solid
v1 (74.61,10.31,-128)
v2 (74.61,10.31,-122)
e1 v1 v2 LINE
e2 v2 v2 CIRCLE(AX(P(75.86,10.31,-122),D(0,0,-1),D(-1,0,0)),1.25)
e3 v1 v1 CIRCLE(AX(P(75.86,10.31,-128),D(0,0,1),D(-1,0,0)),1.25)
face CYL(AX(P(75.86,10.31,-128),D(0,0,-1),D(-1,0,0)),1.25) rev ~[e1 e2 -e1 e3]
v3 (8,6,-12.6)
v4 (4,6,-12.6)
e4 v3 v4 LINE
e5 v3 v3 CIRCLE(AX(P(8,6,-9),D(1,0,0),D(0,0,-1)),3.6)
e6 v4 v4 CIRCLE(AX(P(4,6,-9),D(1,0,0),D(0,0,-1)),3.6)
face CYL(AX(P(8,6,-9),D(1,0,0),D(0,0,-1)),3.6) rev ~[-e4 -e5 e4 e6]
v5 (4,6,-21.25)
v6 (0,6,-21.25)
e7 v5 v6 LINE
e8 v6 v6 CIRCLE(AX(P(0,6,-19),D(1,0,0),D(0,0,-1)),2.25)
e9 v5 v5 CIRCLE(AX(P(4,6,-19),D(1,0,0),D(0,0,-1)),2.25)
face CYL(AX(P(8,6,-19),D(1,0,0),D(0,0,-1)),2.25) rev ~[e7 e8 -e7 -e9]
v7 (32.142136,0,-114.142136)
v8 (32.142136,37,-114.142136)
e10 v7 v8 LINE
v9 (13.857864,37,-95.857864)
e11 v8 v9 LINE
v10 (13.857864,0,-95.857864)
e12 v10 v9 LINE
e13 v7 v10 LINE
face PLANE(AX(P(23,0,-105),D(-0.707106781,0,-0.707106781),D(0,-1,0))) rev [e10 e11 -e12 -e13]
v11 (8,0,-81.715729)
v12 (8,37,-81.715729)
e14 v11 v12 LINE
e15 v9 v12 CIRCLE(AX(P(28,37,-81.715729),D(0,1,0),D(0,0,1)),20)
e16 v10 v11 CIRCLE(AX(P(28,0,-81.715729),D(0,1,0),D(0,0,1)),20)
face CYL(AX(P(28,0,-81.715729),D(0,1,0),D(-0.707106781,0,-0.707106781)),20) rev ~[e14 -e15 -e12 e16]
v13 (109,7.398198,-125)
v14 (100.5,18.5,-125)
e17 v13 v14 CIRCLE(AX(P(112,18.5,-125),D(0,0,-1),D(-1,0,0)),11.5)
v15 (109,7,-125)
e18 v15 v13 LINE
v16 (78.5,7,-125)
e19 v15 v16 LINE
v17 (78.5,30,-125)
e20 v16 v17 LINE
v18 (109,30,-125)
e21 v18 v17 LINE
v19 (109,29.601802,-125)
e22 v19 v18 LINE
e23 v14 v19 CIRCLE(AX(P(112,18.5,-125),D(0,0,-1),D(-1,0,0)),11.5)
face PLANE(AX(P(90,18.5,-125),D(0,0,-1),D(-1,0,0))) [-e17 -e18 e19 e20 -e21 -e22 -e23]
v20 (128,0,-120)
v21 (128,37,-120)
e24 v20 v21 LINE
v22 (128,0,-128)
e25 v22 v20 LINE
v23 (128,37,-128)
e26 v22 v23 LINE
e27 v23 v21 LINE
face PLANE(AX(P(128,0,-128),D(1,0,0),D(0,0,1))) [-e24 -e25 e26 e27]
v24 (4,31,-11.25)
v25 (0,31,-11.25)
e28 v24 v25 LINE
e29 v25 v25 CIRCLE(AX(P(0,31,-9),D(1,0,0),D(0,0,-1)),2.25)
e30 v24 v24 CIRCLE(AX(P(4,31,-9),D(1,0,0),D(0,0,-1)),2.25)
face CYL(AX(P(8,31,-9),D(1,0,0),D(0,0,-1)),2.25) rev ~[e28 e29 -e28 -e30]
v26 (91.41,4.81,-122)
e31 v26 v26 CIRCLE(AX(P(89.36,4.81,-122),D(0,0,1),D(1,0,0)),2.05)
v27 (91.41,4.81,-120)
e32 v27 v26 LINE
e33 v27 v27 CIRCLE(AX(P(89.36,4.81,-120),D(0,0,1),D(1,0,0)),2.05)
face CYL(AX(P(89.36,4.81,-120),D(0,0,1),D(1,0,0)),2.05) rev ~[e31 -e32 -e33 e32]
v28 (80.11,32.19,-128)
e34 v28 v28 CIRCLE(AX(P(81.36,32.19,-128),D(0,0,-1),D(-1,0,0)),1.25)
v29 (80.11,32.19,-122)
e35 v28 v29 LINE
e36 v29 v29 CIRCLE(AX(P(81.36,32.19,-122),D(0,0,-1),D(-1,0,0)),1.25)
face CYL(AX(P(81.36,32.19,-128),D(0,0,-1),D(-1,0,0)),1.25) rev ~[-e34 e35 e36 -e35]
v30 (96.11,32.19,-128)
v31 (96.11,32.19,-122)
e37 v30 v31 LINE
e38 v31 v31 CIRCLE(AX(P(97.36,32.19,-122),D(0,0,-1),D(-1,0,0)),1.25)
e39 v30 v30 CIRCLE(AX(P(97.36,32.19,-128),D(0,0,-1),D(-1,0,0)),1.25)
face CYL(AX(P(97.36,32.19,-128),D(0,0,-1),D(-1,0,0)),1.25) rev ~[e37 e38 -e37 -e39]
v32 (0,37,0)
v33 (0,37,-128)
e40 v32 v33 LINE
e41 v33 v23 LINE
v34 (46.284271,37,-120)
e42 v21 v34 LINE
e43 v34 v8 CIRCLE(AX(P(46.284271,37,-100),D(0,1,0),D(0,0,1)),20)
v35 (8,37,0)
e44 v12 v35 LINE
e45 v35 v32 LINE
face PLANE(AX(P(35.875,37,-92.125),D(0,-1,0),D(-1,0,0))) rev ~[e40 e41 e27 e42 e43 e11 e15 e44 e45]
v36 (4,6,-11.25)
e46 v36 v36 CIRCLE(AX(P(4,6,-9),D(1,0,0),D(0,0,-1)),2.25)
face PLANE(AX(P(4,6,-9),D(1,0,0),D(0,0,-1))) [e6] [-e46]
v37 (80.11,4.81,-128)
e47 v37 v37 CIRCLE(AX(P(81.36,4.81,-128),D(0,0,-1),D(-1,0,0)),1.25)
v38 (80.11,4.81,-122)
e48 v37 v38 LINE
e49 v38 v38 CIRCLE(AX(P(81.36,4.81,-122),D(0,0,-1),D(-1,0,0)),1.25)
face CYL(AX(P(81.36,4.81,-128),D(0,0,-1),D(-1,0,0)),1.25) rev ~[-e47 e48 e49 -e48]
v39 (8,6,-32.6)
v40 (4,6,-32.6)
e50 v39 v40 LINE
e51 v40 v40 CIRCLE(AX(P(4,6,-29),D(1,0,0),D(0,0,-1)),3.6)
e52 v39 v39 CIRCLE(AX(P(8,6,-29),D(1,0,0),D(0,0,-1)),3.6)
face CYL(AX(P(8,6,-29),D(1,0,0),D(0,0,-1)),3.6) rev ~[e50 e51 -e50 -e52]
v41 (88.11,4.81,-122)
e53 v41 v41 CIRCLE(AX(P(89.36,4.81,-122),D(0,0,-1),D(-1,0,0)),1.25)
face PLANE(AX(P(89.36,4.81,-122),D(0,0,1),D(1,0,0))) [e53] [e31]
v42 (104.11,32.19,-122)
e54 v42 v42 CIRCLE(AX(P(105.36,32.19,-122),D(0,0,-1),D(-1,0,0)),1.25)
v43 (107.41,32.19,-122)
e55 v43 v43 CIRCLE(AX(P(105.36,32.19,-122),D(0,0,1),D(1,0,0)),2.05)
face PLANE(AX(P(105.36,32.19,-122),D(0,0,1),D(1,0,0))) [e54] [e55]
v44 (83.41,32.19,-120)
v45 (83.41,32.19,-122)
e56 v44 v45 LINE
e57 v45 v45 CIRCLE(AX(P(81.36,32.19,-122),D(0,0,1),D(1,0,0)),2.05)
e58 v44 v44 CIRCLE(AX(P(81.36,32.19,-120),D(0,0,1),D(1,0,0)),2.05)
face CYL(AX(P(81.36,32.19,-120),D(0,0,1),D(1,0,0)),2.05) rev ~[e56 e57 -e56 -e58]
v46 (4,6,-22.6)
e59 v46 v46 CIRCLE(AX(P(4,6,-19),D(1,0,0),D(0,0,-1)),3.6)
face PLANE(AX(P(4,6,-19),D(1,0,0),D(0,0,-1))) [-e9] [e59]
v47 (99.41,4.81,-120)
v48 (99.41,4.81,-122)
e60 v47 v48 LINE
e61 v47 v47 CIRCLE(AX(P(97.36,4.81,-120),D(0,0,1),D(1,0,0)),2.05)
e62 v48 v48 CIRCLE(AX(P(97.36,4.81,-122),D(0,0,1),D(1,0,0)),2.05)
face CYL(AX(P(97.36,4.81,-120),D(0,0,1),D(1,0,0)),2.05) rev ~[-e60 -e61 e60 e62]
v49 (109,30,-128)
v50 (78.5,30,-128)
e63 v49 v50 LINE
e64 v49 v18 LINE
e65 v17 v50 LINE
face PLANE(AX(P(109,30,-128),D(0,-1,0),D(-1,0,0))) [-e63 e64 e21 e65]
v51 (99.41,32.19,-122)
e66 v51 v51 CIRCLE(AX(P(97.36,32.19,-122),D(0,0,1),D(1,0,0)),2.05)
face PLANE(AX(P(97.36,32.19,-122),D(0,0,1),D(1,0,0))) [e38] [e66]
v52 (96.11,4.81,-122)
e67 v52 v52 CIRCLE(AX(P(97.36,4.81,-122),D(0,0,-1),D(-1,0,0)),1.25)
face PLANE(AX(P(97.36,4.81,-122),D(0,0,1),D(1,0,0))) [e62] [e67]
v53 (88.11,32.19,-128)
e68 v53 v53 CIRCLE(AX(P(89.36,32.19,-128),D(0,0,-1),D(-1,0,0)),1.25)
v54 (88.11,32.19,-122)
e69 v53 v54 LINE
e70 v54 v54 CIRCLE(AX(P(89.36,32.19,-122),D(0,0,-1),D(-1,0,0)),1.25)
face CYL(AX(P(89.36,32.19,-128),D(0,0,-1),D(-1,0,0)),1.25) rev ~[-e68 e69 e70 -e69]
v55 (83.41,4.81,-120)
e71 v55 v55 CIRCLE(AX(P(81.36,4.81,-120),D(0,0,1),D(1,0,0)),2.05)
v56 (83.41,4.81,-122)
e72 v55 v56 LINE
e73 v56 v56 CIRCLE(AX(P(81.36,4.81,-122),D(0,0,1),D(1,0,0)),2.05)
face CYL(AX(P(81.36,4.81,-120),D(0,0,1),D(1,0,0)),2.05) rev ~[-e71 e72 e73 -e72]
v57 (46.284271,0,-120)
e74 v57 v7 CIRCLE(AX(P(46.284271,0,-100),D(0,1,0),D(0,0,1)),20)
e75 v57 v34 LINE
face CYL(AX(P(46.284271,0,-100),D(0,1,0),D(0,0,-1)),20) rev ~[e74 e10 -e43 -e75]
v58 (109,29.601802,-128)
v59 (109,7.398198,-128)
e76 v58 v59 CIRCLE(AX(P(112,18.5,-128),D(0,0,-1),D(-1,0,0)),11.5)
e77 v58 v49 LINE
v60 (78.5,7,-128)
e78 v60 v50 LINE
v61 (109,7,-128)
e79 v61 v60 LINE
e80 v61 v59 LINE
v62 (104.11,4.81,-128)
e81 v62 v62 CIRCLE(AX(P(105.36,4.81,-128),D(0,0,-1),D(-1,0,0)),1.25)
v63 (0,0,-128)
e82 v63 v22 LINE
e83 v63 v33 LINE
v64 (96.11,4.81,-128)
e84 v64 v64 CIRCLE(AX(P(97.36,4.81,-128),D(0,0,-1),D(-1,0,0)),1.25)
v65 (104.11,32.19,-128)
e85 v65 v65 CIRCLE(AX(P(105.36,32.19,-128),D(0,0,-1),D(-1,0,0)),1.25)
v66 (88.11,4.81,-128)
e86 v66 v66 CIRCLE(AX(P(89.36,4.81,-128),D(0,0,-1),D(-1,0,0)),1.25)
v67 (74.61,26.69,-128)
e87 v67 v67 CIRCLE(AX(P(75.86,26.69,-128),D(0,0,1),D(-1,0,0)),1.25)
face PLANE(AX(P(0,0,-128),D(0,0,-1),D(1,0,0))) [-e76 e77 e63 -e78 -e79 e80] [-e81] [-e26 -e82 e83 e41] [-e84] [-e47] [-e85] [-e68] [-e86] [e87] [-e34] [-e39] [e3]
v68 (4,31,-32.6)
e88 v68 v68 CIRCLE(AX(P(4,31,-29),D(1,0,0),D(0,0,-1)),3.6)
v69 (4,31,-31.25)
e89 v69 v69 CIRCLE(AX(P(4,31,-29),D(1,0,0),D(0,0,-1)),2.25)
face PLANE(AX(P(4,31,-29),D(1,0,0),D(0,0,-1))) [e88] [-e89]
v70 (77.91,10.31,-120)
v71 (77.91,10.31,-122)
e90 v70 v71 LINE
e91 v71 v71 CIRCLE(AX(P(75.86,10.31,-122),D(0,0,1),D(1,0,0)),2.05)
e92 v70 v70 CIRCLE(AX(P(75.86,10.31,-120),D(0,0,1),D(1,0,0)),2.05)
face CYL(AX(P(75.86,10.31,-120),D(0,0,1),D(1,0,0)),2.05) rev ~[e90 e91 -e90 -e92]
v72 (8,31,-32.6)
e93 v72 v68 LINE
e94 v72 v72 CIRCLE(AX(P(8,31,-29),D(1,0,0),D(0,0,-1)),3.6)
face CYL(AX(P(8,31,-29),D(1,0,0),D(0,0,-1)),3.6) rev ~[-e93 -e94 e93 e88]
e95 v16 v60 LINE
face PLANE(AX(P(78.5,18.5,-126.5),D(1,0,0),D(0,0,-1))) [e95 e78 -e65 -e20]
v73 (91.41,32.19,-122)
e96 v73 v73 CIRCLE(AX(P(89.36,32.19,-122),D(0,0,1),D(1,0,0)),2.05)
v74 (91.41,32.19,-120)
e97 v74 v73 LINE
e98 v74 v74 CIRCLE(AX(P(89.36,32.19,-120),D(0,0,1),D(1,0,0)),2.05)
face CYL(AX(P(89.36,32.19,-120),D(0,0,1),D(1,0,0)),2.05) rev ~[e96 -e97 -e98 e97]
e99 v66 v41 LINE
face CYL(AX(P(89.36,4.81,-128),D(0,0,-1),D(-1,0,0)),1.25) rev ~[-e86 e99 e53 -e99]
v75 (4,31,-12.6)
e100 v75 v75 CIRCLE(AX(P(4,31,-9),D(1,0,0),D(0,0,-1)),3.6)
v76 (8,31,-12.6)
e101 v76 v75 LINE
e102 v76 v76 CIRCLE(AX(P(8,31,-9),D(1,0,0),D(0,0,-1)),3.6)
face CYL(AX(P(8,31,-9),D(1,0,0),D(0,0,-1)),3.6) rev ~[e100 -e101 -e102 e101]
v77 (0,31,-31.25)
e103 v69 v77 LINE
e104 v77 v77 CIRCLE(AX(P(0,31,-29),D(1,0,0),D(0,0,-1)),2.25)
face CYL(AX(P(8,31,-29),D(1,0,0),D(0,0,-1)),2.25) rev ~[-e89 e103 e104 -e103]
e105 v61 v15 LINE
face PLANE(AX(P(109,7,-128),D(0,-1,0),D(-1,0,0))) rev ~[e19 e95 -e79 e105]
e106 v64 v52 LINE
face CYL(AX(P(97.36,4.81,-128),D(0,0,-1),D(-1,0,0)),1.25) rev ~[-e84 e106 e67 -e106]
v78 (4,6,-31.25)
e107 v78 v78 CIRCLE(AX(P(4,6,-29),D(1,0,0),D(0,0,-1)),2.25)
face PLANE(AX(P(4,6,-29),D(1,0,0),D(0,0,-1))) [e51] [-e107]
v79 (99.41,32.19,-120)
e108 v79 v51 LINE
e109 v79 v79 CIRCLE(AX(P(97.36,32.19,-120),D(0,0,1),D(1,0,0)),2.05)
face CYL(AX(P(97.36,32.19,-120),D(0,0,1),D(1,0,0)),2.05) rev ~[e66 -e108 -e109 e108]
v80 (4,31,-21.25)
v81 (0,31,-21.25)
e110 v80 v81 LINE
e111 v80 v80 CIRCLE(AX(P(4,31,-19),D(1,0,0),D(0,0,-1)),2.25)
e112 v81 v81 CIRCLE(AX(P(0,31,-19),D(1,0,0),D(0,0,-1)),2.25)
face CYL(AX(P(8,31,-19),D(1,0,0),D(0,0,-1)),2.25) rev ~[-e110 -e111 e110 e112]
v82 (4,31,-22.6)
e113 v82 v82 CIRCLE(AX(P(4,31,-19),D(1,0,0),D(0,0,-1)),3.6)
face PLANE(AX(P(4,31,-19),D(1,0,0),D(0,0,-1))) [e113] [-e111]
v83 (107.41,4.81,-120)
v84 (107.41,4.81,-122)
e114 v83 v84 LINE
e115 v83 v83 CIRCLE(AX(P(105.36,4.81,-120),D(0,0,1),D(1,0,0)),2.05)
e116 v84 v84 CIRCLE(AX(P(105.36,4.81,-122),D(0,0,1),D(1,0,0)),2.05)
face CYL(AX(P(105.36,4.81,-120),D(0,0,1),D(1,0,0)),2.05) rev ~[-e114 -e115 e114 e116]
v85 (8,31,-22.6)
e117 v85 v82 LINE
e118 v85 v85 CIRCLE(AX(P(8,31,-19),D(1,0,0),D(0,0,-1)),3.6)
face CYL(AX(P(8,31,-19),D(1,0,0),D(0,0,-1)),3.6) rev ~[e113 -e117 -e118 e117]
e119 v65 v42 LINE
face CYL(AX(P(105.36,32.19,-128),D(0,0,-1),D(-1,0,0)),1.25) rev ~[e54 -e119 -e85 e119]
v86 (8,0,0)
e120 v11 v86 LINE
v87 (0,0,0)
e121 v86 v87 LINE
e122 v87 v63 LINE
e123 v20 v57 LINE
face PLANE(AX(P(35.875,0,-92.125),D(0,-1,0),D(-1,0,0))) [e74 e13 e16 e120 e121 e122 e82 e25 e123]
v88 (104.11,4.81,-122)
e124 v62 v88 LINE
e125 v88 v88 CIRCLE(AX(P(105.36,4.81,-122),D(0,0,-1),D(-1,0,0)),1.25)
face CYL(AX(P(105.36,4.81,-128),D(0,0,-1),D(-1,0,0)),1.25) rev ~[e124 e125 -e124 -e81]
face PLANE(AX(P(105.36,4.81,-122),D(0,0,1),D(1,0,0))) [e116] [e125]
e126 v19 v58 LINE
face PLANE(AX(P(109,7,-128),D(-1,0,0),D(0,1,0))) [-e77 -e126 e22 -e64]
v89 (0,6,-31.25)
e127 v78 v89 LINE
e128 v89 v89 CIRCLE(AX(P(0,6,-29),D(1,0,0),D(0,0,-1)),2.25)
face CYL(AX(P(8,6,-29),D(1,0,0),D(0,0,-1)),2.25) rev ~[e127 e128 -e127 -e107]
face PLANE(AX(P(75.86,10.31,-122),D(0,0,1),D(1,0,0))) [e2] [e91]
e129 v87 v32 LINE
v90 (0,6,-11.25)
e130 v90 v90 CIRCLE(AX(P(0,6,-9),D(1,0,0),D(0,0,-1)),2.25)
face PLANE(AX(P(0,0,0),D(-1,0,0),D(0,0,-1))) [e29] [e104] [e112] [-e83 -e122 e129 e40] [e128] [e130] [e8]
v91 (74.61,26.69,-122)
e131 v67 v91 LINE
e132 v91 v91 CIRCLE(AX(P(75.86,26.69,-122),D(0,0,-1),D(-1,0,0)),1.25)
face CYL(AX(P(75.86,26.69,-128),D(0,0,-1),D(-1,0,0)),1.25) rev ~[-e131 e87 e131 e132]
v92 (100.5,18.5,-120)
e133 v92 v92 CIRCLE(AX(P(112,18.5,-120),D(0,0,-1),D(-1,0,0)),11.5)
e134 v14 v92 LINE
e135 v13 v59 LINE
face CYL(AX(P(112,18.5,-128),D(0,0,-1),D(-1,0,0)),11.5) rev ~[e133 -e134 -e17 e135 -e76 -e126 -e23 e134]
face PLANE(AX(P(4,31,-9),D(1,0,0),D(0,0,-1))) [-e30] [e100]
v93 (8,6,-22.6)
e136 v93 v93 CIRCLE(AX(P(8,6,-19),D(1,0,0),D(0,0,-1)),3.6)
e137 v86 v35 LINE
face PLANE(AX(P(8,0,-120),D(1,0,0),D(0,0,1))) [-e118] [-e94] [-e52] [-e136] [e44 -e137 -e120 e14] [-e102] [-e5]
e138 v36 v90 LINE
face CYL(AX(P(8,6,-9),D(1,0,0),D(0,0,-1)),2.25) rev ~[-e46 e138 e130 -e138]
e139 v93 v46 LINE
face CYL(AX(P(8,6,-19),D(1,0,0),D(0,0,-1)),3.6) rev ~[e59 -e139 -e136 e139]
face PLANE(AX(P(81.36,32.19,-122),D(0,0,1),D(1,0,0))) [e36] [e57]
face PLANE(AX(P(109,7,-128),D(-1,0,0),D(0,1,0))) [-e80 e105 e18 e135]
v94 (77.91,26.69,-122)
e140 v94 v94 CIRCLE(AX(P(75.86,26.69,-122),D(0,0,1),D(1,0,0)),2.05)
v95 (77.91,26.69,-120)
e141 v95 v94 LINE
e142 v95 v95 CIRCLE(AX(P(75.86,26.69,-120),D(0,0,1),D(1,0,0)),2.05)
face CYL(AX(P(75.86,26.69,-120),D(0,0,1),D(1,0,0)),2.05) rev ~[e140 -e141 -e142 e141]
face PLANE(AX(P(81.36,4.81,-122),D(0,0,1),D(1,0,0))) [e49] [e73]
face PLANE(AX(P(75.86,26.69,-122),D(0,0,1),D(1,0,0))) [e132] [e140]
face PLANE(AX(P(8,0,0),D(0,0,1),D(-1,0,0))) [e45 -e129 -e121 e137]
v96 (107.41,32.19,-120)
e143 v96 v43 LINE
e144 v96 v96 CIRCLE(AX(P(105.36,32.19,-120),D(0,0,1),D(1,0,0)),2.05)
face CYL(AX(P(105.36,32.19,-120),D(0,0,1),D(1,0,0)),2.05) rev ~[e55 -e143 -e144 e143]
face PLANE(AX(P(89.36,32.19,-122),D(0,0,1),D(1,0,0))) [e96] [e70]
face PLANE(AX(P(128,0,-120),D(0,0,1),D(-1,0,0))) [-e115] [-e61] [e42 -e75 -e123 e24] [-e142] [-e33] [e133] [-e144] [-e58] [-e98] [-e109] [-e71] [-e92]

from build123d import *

# Parameters (mm, degrees)
BOSS_EXTRUDE1_DEPTH = 37
CUT_EXTRUDE1_REACH  = 186.762
SKETCH2_R           = 11.5
CUT_EXTRUDE2_REACH  = 186.762
SKETCH3_R           = 1.25
SKETCH5_W           = 38
SKETCH5_H           = 23
CUT_EXTRUDE3_DEPTH  = 3
SKETCH6_W           = 3
SKETCH6_H           = 23
BOSS_EXTRUDE2_DEPTH = 7.5
CUT_EXTRUDE4_REACH  = 184.696
SKETCH7_R           = 1.25
SKETCH8_R           = 2.05
CUT_EXTRUDE5_DEPTH  = 2
CUT_EXTRUDE6_REACH  = 181.313
SKETCH9_R           = 2.25
SKETCH10_R          = 3.6
CUT_EXTRUDE7_DEPTH  = 4
CHAMFER1_SIZE       = 30
FILLET4_R           = 20


with BuildPart() as part:
    # Sketch1 → Boss-Extrude1 (new body)
    with BuildSketch(Plane(origin=(0, 0, 0), x_dir=(1, 0, 0), z_dir=(0, 1, 0))):
        Polygon((0, 0), (0, 128), (128, 128), (128, 120), (8, 120), (8, 0), align=None)
    extrude(amount=BOSS_EXTRUDE1_DEPTH)

    # Sketch2 → Cut-Extrude1 (cut, up to next)
    with BuildSketch(Plane(origin=(0, 0, -128), x_dir=(-1, 0, 0), z_dir=(0, 0, -1)), mode=Mode.PRIVATE) as cut_extrude1_sk1:
        with Locations((-112, 18.5)):
            Circle(SKETCH2_R)
    cut_extrude1_tool1 = extrude(cut_extrude1_sk1.sketch, amount=-CUT_EXTRUDE1_REACH, mode=Mode.PRIVATE) & part.part
    add(cut_extrude1_tool1.solids().sort_by_distance((112, 18.5, -128))[0], mode=Mode.SUBTRACT)

    # Sketch3 → Cut-Extrude2 (cut, up to next)
    with BuildSketch(Plane(origin=(0, 0, -128), x_dir=(-1, 0, 0), z_dir=(0, 0, -1)), mode=Mode.PRIVATE) as cut_extrude2_sk1:
        with Locations((-75.86, 10.31)):
            Circle(SKETCH3_R)
    cut_extrude2_tool1 = extrude(cut_extrude2_sk1.sketch, amount=-CUT_EXTRUDE2_REACH, mode=Mode.PRIVATE) & part.part
    # Sketch3 → Cut-Extrude2 (cut, up to next)
    with BuildSketch(Plane(origin=(0, 0, -128), x_dir=(-1, 0, 0), z_dir=(0, 0, -1)), mode=Mode.PRIVATE) as cut_extrude2_sk2:
        with Locations((-105.36, 32.19)):
            Circle(SKETCH3_R)
    cut_extrude2_tool2 = extrude(cut_extrude2_sk2.sketch, amount=-CUT_EXTRUDE2_REACH, mode=Mode.PRIVATE) & part.part
    # Sketch3 → Cut-Extrude2 (cut, up to next)
    with BuildSketch(Plane(origin=(0, 0, -128), x_dir=(-1, 0, 0), z_dir=(0, 0, -1)), mode=Mode.PRIVATE) as cut_extrude2_sk3:
        with Locations((-97.36, 32.19)):
            Circle(SKETCH3_R)
    cut_extrude2_tool3 = extrude(cut_extrude2_sk3.sketch, amount=-CUT_EXTRUDE2_REACH, mode=Mode.PRIVATE) & part.part
    # Sketch3 → Cut-Extrude2 (cut, up to next)
    with BuildSketch(Plane(origin=(0, 0, -128), x_dir=(-1, 0, 0), z_dir=(0, 0, -1)), mode=Mode.PRIVATE) as cut_extrude2_sk4:
        with Locations((-89.36, 32.19)):
            Circle(SKETCH3_R)
    cut_extrude2_tool4 = extrude(cut_extrude2_sk4.sketch, amount=-CUT_EXTRUDE2_REACH, mode=Mode.PRIVATE) & part.part
    # Sketch3 → Cut-Extrude2 (cut, up to next)
    with BuildSketch(Plane(origin=(0, 0, -128), x_dir=(-1, 0, 0), z_dir=(0, 0, -1)), mode=Mode.PRIVATE) as cut_extrude2_sk5:
        with Locations((-81.36, 32.19)):
            Circle(SKETCH3_R)
    cut_extrude2_tool5 = extrude(cut_extrude2_sk5.sketch, amount=-CUT_EXTRUDE2_REACH, mode=Mode.PRIVATE) & part.part
    # Sketch3 → Cut-Extrude2 (cut, up to next)
    with BuildSketch(Plane(origin=(0, 0, -128), x_dir=(-1, 0, 0), z_dir=(0, 0, -1)), mode=Mode.PRIVATE) as cut_extrude2_sk6:
        with Locations((-81.36, 4.81)):
            Circle(SKETCH3_R)
    cut_extrude2_tool6 = extrude(cut_extrude2_sk6.sketch, amount=-CUT_EXTRUDE2_REACH, mode=Mode.PRIVATE) & part.part
    # Sketch3 → Cut-Extrude2 (cut, up to next)
    with BuildSketch(Plane(origin=(0, 0, -128), x_dir=(-1, 0, 0), z_dir=(0, 0, -1)), mode=Mode.PRIVATE) as cut_extrude2_sk7:
        with Locations((-89.36, 4.81)):
            Circle(SKETCH3_R)
    cut_extrude2_tool7 = extrude(cut_extrude2_sk7.sketch, amount=-CUT_EXTRUDE2_REACH, mode=Mode.PRIVATE) & part.part
    # Sketch3 → Cut-Extrude2 (cut, up to next)
    with BuildSketch(Plane(origin=(0, 0, -128), x_dir=(-1, 0, 0), z_dir=(0, 0, -1)), mode=Mode.PRIVATE) as cut_extrude2_sk8:
        with Locations((-97.36, 4.81)):
            Circle(SKETCH3_R)
    cut_extrude2_tool8 = extrude(cut_extrude2_sk8.sketch, amount=-CUT_EXTRUDE2_REACH, mode=Mode.PRIVATE) & part.part
    # Sketch3 → Cut-Extrude2 (cut, up to next)
    with BuildSketch(Plane(origin=(0, 0, -128), x_dir=(-1, 0, 0), z_dir=(0, 0, -1)), mode=Mode.PRIVATE) as cut_extrude2_sk9:
        with Locations((-105.36, 4.81)):
            Circle(SKETCH3_R)
    cut_extrude2_tool9 = extrude(cut_extrude2_sk9.sketch, amount=-CUT_EXTRUDE2_REACH, mode=Mode.PRIVATE) & part.part
    # Sketch3 → Cut-Extrude2 (cut, up to next)
    with BuildSketch(Plane(origin=(0, 0, -128), x_dir=(-1, 0, 0), z_dir=(0, 0, -1)), mode=Mode.PRIVATE) as cut_extrude2_sk10:
        with Locations((-75.86, 26.69)):
            Circle(SKETCH3_R)
    cut_extrude2_tool10 = extrude(cut_extrude2_sk10.sketch, amount=-CUT_EXTRUDE2_REACH, mode=Mode.PRIVATE) & part.part
    add(cut_extrude2_tool1.solids().sort_by_distance((75.86, 10.31, -128))[0], mode=Mode.SUBTRACT)
    add(cut_extrude2_tool2.solids().sort_by_distance((105.36, 32.19, -128))[0], mode=Mode.SUBTRACT)
    add(cut_extrude2_tool3.solids().sort_by_distance((97.36, 32.19, -128))[0], mode=Mode.SUBTRACT)
    add(cut_extrude2_tool4.solids().sort_by_distance((89.36, 32.19, -128))[0], mode=Mode.SUBTRACT)
    add(cut_extrude2_tool5.solids().sort_by_distance((81.36, 32.19, -128))[0], mode=Mode.SUBTRACT)
    add(cut_extrude2_tool6.solids().sort_by_distance((81.36, 4.81, -128))[0], mode=Mode.SUBTRACT)
    add(cut_extrude2_tool7.solids().sort_by_distance((89.36, 4.81, -128))[0], mode=Mode.SUBTRACT)
    add(cut_extrude2_tool8.solids().sort_by_distance((97.36, 4.81, -128))[0], mode=Mode.SUBTRACT)
    add(cut_extrude2_tool9.solids().sort_by_distance((105.36, 4.81, -128))[0], mode=Mode.SUBTRACT)
    add(cut_extrude2_tool10.solids().sort_by_distance((75.86, 26.69, -128))[0], mode=Mode.SUBTRACT)

    # Sketch5 → Cut-Extrude3 (cut)
    with BuildSketch(Plane(origin=(0, 0, -128), x_dir=(-1, 0, 0), z_dir=(0, 0, -1))):
        with Locations((-90, 18.5)):
            Rectangle(SKETCH5_W, SKETCH5_H)
    extrude(amount=-CUT_EXTRUDE3_DEPTH, mode=Mode.SUBTRACT)

    # Sketch6 → Boss-Extrude2 (add)
    with BuildSketch(Plane(origin=(71, 0, 0), x_dir=(0, 0, -1), z_dir=(1, 0, 0))):
        with Locations((126.5, 18.5)):
            Rectangle(SKETCH6_W, SKETCH6_H)
    extrude(amount=BOSS_EXTRUDE2_DEPTH)

    # Sketch7 → Cut-Extrude4 (cut, up to next)
    with BuildSketch(Plane.XY.offset(-125), mode=Mode.PRIVATE) as cut_extrude4_sk1:
        with Locations(Location((75.86, 10.31, 0), (0, 0, 180))):
            Circle(SKETCH7_R)
    cut_extrude4_tool1 = extrude(cut_extrude4_sk1.sketch, amount=-CUT_EXTRUDE4_REACH, mode=Mode.PRIVATE) & part.part
    # Sketch7 → Cut-Extrude4 (cut, up to next)
    with BuildSketch(Plane.XY.offset(-125), mode=Mode.PRIVATE) as cut_extrude4_sk2:
        with Locations(Location((75.86, 26.69, 0), (0, 0, 180))):
            Circle(SKETCH7_R)
    cut_extrude4_tool2 = extrude(cut_extrude4_sk2.sketch, amount=-CUT_EXTRUDE4_REACH, mode=Mode.PRIVATE) & part.part
    add(cut_extrude4_tool1.solids().sort_by_distance((75.86, 10.31, -125))[0], mode=Mode.SUBTRACT)
    add(cut_extrude4_tool2.solids().sort_by_distance((75.86, 26.69, -125))[0], mode=Mode.SUBTRACT)

    # Sketch8 → Cut-Extrude5 (cut)
    with BuildSketch(Plane.XY.offset(-120)):
        with Locations((75.86, 10.31)):
            Circle(SKETCH8_R)
        with Locations((75.86, 26.69)):
            Circle(SKETCH8_R)
        with Locations((81.36, 32.19)):
            Circle(SKETCH8_R)
        with Locations((89.36, 32.19)):
            Circle(SKETCH8_R)
        with Locations((97.36, 32.19)):
            Circle(SKETCH8_R)
        with Locations((105.36, 32.19)):
            Circle(SKETCH8_R)
        with Locations((105.36, 4.81)):
            Circle(SKETCH8_R)
        with Locations((97.36, 4.81)):
            Circle(SKETCH8_R)
        with Locations((89.36, 4.81)):
            Circle(SKETCH8_R)
        with Locations((81.36, 4.81)):
            Circle(SKETCH8_R)
    extrude(amount=-CUT_EXTRUDE5_DEPTH, mode=Mode.SUBTRACT)

    # Sketch9 → Cut-Extrude6 (cut, up to next)
    with BuildSketch(Plane(origin=(8, 0, 0), x_dir=(0, 0, -1), z_dir=(1, 0, 0)), mode=Mode.PRIVATE) as cut_extrude6_sk1:
        with Locations((29, 31)):
            Circle(SKETCH9_R)
    cut_extrude6_tool1 = extrude(cut_extrude6_sk1.sketch, amount=-CUT_EXTRUDE6_REACH, mode=Mode.PRIVATE) & part.part
    # Sketch9 → Cut-Extrude6 (cut, up to next)
    with BuildSketch(Plane(origin=(8, 0, 0), x_dir=(0, 0, -1), z_dir=(1, 0, 0)), mode=Mode.PRIVATE) as cut_extrude6_sk2:
        with Locations((19, 31)):
            Circle(SKETCH9_R)
    cut_extrude6_tool2 = extrude(cut_extrude6_sk2.sketch, amount=-CUT_EXTRUDE6_REACH, mode=Mode.PRIVATE) & part.part
    # Sketch9 → Cut-Extrude6 (cut, up to next)
    with BuildSketch(Plane(origin=(8, 0, 0), x_dir=(0, 0, -1), z_dir=(1, 0, 0)), mode=Mode.PRIVATE) as cut_extrude6_sk3:
        with Locations((9, 31)):
            Circle(SKETCH9_R)
    cut_extrude6_tool3 = extrude(cut_extrude6_sk3.sketch, amount=-CUT_EXTRUDE6_REACH, mode=Mode.PRIVATE) & part.part
    # Sketch9 → Cut-Extrude6 (cut, up to next)
    with BuildSketch(Plane(origin=(8, 0, 0), x_dir=(0, 0, -1), z_dir=(1, 0, 0)), mode=Mode.PRIVATE) as cut_extrude6_sk4:
        with Locations((19, 6)):
            Circle(SKETCH9_R)
    cut_extrude6_tool4 = extrude(cut_extrude6_sk4.sketch, amount=-CUT_EXTRUDE6_REACH, mode=Mode.PRIVATE) & part.part
    # Sketch9 → Cut-Extrude6 (cut, up to next)
    with BuildSketch(Plane(origin=(8, 0, 0), x_dir=(0, 0, -1), z_dir=(1, 0, 0)), mode=Mode.PRIVATE) as cut_extrude6_sk5:
        with Locations((29, 6)):
            Circle(SKETCH9_R)
    cut_extrude6_tool5 = extrude(cut_extrude6_sk5.sketch, amount=-CUT_EXTRUDE6_REACH, mode=Mode.PRIVATE) & part.part
    # Sketch9 → Cut-Extrude6 (cut, up to next)
    with BuildSketch(Plane(origin=(8, 0, 0), x_dir=(0, 0, -1), z_dir=(1, 0, 0)), mode=Mode.PRIVATE) as cut_extrude6_sk6:
        with Locations((9, 6)):
            Circle(SKETCH9_R)
    cut_extrude6_tool6 = extrude(cut_extrude6_sk6.sketch, amount=-CUT_EXTRUDE6_REACH, mode=Mode.PRIVATE) & part.part
    add(cut_extrude6_tool1.solids().sort_by_distance((8, 31, -29))[0], mode=Mode.SUBTRACT)
    add(cut_extrude6_tool2.solids().sort_by_distance((8, 31, -19))[0], mode=Mode.SUBTRACT)
    add(cut_extrude6_tool3.solids().sort_by_distance((8, 31, -9))[0], mode=Mode.SUBTRACT)
    add(cut_extrude6_tool4.solids().sort_by_distance((8, 6, -19))[0], mode=Mode.SUBTRACT)
    add(cut_extrude6_tool5.solids().sort_by_distance((8, 6, -29))[0], mode=Mode.SUBTRACT)
    add(cut_extrude6_tool6.solids().sort_by_distance((8, 6, -9))[0], mode=Mode.SUBTRACT)

    # Sketch10 → Cut-Extrude7 (cut)
    with BuildSketch(Plane(origin=(8, 0, 0), x_dir=(0, 0, -1), z_dir=(1, 0, 0))):
        with Locations((9, 31)):
            Circle(SKETCH10_R)
        with Locations((19, 31)):
            Circle(SKETCH10_R)
        with Locations((29, 31)):
            Circle(SKETCH10_R)
        with Locations((29, 6)):
            Circle(SKETCH10_R)
        with Locations((19, 6)):
            Circle(SKETCH10_R)
        with Locations((9, 6)):
            Circle(SKETCH10_R)
    extrude(amount=-CUT_EXTRUDE7_DEPTH, mode=Mode.SUBTRACT)

    # Chamfer1
    chamfer1_edges = [part.edges().sort_by_distance(p)[0] for p in [
        (8, 18.5, -120),
    ]]
    chamfer(chamfer1_edges, length=CHAMFER1_SIZE)

    # Fillet4
    fillet4_edges = [part.edges().sort_by_distance(p)[0] for p in [
        (38, 18.5, -120),
        (8, 18.5, -90),
    ]]
    fillet(fillet4_edges, radius=FILLET4_R)


solid = part.part
